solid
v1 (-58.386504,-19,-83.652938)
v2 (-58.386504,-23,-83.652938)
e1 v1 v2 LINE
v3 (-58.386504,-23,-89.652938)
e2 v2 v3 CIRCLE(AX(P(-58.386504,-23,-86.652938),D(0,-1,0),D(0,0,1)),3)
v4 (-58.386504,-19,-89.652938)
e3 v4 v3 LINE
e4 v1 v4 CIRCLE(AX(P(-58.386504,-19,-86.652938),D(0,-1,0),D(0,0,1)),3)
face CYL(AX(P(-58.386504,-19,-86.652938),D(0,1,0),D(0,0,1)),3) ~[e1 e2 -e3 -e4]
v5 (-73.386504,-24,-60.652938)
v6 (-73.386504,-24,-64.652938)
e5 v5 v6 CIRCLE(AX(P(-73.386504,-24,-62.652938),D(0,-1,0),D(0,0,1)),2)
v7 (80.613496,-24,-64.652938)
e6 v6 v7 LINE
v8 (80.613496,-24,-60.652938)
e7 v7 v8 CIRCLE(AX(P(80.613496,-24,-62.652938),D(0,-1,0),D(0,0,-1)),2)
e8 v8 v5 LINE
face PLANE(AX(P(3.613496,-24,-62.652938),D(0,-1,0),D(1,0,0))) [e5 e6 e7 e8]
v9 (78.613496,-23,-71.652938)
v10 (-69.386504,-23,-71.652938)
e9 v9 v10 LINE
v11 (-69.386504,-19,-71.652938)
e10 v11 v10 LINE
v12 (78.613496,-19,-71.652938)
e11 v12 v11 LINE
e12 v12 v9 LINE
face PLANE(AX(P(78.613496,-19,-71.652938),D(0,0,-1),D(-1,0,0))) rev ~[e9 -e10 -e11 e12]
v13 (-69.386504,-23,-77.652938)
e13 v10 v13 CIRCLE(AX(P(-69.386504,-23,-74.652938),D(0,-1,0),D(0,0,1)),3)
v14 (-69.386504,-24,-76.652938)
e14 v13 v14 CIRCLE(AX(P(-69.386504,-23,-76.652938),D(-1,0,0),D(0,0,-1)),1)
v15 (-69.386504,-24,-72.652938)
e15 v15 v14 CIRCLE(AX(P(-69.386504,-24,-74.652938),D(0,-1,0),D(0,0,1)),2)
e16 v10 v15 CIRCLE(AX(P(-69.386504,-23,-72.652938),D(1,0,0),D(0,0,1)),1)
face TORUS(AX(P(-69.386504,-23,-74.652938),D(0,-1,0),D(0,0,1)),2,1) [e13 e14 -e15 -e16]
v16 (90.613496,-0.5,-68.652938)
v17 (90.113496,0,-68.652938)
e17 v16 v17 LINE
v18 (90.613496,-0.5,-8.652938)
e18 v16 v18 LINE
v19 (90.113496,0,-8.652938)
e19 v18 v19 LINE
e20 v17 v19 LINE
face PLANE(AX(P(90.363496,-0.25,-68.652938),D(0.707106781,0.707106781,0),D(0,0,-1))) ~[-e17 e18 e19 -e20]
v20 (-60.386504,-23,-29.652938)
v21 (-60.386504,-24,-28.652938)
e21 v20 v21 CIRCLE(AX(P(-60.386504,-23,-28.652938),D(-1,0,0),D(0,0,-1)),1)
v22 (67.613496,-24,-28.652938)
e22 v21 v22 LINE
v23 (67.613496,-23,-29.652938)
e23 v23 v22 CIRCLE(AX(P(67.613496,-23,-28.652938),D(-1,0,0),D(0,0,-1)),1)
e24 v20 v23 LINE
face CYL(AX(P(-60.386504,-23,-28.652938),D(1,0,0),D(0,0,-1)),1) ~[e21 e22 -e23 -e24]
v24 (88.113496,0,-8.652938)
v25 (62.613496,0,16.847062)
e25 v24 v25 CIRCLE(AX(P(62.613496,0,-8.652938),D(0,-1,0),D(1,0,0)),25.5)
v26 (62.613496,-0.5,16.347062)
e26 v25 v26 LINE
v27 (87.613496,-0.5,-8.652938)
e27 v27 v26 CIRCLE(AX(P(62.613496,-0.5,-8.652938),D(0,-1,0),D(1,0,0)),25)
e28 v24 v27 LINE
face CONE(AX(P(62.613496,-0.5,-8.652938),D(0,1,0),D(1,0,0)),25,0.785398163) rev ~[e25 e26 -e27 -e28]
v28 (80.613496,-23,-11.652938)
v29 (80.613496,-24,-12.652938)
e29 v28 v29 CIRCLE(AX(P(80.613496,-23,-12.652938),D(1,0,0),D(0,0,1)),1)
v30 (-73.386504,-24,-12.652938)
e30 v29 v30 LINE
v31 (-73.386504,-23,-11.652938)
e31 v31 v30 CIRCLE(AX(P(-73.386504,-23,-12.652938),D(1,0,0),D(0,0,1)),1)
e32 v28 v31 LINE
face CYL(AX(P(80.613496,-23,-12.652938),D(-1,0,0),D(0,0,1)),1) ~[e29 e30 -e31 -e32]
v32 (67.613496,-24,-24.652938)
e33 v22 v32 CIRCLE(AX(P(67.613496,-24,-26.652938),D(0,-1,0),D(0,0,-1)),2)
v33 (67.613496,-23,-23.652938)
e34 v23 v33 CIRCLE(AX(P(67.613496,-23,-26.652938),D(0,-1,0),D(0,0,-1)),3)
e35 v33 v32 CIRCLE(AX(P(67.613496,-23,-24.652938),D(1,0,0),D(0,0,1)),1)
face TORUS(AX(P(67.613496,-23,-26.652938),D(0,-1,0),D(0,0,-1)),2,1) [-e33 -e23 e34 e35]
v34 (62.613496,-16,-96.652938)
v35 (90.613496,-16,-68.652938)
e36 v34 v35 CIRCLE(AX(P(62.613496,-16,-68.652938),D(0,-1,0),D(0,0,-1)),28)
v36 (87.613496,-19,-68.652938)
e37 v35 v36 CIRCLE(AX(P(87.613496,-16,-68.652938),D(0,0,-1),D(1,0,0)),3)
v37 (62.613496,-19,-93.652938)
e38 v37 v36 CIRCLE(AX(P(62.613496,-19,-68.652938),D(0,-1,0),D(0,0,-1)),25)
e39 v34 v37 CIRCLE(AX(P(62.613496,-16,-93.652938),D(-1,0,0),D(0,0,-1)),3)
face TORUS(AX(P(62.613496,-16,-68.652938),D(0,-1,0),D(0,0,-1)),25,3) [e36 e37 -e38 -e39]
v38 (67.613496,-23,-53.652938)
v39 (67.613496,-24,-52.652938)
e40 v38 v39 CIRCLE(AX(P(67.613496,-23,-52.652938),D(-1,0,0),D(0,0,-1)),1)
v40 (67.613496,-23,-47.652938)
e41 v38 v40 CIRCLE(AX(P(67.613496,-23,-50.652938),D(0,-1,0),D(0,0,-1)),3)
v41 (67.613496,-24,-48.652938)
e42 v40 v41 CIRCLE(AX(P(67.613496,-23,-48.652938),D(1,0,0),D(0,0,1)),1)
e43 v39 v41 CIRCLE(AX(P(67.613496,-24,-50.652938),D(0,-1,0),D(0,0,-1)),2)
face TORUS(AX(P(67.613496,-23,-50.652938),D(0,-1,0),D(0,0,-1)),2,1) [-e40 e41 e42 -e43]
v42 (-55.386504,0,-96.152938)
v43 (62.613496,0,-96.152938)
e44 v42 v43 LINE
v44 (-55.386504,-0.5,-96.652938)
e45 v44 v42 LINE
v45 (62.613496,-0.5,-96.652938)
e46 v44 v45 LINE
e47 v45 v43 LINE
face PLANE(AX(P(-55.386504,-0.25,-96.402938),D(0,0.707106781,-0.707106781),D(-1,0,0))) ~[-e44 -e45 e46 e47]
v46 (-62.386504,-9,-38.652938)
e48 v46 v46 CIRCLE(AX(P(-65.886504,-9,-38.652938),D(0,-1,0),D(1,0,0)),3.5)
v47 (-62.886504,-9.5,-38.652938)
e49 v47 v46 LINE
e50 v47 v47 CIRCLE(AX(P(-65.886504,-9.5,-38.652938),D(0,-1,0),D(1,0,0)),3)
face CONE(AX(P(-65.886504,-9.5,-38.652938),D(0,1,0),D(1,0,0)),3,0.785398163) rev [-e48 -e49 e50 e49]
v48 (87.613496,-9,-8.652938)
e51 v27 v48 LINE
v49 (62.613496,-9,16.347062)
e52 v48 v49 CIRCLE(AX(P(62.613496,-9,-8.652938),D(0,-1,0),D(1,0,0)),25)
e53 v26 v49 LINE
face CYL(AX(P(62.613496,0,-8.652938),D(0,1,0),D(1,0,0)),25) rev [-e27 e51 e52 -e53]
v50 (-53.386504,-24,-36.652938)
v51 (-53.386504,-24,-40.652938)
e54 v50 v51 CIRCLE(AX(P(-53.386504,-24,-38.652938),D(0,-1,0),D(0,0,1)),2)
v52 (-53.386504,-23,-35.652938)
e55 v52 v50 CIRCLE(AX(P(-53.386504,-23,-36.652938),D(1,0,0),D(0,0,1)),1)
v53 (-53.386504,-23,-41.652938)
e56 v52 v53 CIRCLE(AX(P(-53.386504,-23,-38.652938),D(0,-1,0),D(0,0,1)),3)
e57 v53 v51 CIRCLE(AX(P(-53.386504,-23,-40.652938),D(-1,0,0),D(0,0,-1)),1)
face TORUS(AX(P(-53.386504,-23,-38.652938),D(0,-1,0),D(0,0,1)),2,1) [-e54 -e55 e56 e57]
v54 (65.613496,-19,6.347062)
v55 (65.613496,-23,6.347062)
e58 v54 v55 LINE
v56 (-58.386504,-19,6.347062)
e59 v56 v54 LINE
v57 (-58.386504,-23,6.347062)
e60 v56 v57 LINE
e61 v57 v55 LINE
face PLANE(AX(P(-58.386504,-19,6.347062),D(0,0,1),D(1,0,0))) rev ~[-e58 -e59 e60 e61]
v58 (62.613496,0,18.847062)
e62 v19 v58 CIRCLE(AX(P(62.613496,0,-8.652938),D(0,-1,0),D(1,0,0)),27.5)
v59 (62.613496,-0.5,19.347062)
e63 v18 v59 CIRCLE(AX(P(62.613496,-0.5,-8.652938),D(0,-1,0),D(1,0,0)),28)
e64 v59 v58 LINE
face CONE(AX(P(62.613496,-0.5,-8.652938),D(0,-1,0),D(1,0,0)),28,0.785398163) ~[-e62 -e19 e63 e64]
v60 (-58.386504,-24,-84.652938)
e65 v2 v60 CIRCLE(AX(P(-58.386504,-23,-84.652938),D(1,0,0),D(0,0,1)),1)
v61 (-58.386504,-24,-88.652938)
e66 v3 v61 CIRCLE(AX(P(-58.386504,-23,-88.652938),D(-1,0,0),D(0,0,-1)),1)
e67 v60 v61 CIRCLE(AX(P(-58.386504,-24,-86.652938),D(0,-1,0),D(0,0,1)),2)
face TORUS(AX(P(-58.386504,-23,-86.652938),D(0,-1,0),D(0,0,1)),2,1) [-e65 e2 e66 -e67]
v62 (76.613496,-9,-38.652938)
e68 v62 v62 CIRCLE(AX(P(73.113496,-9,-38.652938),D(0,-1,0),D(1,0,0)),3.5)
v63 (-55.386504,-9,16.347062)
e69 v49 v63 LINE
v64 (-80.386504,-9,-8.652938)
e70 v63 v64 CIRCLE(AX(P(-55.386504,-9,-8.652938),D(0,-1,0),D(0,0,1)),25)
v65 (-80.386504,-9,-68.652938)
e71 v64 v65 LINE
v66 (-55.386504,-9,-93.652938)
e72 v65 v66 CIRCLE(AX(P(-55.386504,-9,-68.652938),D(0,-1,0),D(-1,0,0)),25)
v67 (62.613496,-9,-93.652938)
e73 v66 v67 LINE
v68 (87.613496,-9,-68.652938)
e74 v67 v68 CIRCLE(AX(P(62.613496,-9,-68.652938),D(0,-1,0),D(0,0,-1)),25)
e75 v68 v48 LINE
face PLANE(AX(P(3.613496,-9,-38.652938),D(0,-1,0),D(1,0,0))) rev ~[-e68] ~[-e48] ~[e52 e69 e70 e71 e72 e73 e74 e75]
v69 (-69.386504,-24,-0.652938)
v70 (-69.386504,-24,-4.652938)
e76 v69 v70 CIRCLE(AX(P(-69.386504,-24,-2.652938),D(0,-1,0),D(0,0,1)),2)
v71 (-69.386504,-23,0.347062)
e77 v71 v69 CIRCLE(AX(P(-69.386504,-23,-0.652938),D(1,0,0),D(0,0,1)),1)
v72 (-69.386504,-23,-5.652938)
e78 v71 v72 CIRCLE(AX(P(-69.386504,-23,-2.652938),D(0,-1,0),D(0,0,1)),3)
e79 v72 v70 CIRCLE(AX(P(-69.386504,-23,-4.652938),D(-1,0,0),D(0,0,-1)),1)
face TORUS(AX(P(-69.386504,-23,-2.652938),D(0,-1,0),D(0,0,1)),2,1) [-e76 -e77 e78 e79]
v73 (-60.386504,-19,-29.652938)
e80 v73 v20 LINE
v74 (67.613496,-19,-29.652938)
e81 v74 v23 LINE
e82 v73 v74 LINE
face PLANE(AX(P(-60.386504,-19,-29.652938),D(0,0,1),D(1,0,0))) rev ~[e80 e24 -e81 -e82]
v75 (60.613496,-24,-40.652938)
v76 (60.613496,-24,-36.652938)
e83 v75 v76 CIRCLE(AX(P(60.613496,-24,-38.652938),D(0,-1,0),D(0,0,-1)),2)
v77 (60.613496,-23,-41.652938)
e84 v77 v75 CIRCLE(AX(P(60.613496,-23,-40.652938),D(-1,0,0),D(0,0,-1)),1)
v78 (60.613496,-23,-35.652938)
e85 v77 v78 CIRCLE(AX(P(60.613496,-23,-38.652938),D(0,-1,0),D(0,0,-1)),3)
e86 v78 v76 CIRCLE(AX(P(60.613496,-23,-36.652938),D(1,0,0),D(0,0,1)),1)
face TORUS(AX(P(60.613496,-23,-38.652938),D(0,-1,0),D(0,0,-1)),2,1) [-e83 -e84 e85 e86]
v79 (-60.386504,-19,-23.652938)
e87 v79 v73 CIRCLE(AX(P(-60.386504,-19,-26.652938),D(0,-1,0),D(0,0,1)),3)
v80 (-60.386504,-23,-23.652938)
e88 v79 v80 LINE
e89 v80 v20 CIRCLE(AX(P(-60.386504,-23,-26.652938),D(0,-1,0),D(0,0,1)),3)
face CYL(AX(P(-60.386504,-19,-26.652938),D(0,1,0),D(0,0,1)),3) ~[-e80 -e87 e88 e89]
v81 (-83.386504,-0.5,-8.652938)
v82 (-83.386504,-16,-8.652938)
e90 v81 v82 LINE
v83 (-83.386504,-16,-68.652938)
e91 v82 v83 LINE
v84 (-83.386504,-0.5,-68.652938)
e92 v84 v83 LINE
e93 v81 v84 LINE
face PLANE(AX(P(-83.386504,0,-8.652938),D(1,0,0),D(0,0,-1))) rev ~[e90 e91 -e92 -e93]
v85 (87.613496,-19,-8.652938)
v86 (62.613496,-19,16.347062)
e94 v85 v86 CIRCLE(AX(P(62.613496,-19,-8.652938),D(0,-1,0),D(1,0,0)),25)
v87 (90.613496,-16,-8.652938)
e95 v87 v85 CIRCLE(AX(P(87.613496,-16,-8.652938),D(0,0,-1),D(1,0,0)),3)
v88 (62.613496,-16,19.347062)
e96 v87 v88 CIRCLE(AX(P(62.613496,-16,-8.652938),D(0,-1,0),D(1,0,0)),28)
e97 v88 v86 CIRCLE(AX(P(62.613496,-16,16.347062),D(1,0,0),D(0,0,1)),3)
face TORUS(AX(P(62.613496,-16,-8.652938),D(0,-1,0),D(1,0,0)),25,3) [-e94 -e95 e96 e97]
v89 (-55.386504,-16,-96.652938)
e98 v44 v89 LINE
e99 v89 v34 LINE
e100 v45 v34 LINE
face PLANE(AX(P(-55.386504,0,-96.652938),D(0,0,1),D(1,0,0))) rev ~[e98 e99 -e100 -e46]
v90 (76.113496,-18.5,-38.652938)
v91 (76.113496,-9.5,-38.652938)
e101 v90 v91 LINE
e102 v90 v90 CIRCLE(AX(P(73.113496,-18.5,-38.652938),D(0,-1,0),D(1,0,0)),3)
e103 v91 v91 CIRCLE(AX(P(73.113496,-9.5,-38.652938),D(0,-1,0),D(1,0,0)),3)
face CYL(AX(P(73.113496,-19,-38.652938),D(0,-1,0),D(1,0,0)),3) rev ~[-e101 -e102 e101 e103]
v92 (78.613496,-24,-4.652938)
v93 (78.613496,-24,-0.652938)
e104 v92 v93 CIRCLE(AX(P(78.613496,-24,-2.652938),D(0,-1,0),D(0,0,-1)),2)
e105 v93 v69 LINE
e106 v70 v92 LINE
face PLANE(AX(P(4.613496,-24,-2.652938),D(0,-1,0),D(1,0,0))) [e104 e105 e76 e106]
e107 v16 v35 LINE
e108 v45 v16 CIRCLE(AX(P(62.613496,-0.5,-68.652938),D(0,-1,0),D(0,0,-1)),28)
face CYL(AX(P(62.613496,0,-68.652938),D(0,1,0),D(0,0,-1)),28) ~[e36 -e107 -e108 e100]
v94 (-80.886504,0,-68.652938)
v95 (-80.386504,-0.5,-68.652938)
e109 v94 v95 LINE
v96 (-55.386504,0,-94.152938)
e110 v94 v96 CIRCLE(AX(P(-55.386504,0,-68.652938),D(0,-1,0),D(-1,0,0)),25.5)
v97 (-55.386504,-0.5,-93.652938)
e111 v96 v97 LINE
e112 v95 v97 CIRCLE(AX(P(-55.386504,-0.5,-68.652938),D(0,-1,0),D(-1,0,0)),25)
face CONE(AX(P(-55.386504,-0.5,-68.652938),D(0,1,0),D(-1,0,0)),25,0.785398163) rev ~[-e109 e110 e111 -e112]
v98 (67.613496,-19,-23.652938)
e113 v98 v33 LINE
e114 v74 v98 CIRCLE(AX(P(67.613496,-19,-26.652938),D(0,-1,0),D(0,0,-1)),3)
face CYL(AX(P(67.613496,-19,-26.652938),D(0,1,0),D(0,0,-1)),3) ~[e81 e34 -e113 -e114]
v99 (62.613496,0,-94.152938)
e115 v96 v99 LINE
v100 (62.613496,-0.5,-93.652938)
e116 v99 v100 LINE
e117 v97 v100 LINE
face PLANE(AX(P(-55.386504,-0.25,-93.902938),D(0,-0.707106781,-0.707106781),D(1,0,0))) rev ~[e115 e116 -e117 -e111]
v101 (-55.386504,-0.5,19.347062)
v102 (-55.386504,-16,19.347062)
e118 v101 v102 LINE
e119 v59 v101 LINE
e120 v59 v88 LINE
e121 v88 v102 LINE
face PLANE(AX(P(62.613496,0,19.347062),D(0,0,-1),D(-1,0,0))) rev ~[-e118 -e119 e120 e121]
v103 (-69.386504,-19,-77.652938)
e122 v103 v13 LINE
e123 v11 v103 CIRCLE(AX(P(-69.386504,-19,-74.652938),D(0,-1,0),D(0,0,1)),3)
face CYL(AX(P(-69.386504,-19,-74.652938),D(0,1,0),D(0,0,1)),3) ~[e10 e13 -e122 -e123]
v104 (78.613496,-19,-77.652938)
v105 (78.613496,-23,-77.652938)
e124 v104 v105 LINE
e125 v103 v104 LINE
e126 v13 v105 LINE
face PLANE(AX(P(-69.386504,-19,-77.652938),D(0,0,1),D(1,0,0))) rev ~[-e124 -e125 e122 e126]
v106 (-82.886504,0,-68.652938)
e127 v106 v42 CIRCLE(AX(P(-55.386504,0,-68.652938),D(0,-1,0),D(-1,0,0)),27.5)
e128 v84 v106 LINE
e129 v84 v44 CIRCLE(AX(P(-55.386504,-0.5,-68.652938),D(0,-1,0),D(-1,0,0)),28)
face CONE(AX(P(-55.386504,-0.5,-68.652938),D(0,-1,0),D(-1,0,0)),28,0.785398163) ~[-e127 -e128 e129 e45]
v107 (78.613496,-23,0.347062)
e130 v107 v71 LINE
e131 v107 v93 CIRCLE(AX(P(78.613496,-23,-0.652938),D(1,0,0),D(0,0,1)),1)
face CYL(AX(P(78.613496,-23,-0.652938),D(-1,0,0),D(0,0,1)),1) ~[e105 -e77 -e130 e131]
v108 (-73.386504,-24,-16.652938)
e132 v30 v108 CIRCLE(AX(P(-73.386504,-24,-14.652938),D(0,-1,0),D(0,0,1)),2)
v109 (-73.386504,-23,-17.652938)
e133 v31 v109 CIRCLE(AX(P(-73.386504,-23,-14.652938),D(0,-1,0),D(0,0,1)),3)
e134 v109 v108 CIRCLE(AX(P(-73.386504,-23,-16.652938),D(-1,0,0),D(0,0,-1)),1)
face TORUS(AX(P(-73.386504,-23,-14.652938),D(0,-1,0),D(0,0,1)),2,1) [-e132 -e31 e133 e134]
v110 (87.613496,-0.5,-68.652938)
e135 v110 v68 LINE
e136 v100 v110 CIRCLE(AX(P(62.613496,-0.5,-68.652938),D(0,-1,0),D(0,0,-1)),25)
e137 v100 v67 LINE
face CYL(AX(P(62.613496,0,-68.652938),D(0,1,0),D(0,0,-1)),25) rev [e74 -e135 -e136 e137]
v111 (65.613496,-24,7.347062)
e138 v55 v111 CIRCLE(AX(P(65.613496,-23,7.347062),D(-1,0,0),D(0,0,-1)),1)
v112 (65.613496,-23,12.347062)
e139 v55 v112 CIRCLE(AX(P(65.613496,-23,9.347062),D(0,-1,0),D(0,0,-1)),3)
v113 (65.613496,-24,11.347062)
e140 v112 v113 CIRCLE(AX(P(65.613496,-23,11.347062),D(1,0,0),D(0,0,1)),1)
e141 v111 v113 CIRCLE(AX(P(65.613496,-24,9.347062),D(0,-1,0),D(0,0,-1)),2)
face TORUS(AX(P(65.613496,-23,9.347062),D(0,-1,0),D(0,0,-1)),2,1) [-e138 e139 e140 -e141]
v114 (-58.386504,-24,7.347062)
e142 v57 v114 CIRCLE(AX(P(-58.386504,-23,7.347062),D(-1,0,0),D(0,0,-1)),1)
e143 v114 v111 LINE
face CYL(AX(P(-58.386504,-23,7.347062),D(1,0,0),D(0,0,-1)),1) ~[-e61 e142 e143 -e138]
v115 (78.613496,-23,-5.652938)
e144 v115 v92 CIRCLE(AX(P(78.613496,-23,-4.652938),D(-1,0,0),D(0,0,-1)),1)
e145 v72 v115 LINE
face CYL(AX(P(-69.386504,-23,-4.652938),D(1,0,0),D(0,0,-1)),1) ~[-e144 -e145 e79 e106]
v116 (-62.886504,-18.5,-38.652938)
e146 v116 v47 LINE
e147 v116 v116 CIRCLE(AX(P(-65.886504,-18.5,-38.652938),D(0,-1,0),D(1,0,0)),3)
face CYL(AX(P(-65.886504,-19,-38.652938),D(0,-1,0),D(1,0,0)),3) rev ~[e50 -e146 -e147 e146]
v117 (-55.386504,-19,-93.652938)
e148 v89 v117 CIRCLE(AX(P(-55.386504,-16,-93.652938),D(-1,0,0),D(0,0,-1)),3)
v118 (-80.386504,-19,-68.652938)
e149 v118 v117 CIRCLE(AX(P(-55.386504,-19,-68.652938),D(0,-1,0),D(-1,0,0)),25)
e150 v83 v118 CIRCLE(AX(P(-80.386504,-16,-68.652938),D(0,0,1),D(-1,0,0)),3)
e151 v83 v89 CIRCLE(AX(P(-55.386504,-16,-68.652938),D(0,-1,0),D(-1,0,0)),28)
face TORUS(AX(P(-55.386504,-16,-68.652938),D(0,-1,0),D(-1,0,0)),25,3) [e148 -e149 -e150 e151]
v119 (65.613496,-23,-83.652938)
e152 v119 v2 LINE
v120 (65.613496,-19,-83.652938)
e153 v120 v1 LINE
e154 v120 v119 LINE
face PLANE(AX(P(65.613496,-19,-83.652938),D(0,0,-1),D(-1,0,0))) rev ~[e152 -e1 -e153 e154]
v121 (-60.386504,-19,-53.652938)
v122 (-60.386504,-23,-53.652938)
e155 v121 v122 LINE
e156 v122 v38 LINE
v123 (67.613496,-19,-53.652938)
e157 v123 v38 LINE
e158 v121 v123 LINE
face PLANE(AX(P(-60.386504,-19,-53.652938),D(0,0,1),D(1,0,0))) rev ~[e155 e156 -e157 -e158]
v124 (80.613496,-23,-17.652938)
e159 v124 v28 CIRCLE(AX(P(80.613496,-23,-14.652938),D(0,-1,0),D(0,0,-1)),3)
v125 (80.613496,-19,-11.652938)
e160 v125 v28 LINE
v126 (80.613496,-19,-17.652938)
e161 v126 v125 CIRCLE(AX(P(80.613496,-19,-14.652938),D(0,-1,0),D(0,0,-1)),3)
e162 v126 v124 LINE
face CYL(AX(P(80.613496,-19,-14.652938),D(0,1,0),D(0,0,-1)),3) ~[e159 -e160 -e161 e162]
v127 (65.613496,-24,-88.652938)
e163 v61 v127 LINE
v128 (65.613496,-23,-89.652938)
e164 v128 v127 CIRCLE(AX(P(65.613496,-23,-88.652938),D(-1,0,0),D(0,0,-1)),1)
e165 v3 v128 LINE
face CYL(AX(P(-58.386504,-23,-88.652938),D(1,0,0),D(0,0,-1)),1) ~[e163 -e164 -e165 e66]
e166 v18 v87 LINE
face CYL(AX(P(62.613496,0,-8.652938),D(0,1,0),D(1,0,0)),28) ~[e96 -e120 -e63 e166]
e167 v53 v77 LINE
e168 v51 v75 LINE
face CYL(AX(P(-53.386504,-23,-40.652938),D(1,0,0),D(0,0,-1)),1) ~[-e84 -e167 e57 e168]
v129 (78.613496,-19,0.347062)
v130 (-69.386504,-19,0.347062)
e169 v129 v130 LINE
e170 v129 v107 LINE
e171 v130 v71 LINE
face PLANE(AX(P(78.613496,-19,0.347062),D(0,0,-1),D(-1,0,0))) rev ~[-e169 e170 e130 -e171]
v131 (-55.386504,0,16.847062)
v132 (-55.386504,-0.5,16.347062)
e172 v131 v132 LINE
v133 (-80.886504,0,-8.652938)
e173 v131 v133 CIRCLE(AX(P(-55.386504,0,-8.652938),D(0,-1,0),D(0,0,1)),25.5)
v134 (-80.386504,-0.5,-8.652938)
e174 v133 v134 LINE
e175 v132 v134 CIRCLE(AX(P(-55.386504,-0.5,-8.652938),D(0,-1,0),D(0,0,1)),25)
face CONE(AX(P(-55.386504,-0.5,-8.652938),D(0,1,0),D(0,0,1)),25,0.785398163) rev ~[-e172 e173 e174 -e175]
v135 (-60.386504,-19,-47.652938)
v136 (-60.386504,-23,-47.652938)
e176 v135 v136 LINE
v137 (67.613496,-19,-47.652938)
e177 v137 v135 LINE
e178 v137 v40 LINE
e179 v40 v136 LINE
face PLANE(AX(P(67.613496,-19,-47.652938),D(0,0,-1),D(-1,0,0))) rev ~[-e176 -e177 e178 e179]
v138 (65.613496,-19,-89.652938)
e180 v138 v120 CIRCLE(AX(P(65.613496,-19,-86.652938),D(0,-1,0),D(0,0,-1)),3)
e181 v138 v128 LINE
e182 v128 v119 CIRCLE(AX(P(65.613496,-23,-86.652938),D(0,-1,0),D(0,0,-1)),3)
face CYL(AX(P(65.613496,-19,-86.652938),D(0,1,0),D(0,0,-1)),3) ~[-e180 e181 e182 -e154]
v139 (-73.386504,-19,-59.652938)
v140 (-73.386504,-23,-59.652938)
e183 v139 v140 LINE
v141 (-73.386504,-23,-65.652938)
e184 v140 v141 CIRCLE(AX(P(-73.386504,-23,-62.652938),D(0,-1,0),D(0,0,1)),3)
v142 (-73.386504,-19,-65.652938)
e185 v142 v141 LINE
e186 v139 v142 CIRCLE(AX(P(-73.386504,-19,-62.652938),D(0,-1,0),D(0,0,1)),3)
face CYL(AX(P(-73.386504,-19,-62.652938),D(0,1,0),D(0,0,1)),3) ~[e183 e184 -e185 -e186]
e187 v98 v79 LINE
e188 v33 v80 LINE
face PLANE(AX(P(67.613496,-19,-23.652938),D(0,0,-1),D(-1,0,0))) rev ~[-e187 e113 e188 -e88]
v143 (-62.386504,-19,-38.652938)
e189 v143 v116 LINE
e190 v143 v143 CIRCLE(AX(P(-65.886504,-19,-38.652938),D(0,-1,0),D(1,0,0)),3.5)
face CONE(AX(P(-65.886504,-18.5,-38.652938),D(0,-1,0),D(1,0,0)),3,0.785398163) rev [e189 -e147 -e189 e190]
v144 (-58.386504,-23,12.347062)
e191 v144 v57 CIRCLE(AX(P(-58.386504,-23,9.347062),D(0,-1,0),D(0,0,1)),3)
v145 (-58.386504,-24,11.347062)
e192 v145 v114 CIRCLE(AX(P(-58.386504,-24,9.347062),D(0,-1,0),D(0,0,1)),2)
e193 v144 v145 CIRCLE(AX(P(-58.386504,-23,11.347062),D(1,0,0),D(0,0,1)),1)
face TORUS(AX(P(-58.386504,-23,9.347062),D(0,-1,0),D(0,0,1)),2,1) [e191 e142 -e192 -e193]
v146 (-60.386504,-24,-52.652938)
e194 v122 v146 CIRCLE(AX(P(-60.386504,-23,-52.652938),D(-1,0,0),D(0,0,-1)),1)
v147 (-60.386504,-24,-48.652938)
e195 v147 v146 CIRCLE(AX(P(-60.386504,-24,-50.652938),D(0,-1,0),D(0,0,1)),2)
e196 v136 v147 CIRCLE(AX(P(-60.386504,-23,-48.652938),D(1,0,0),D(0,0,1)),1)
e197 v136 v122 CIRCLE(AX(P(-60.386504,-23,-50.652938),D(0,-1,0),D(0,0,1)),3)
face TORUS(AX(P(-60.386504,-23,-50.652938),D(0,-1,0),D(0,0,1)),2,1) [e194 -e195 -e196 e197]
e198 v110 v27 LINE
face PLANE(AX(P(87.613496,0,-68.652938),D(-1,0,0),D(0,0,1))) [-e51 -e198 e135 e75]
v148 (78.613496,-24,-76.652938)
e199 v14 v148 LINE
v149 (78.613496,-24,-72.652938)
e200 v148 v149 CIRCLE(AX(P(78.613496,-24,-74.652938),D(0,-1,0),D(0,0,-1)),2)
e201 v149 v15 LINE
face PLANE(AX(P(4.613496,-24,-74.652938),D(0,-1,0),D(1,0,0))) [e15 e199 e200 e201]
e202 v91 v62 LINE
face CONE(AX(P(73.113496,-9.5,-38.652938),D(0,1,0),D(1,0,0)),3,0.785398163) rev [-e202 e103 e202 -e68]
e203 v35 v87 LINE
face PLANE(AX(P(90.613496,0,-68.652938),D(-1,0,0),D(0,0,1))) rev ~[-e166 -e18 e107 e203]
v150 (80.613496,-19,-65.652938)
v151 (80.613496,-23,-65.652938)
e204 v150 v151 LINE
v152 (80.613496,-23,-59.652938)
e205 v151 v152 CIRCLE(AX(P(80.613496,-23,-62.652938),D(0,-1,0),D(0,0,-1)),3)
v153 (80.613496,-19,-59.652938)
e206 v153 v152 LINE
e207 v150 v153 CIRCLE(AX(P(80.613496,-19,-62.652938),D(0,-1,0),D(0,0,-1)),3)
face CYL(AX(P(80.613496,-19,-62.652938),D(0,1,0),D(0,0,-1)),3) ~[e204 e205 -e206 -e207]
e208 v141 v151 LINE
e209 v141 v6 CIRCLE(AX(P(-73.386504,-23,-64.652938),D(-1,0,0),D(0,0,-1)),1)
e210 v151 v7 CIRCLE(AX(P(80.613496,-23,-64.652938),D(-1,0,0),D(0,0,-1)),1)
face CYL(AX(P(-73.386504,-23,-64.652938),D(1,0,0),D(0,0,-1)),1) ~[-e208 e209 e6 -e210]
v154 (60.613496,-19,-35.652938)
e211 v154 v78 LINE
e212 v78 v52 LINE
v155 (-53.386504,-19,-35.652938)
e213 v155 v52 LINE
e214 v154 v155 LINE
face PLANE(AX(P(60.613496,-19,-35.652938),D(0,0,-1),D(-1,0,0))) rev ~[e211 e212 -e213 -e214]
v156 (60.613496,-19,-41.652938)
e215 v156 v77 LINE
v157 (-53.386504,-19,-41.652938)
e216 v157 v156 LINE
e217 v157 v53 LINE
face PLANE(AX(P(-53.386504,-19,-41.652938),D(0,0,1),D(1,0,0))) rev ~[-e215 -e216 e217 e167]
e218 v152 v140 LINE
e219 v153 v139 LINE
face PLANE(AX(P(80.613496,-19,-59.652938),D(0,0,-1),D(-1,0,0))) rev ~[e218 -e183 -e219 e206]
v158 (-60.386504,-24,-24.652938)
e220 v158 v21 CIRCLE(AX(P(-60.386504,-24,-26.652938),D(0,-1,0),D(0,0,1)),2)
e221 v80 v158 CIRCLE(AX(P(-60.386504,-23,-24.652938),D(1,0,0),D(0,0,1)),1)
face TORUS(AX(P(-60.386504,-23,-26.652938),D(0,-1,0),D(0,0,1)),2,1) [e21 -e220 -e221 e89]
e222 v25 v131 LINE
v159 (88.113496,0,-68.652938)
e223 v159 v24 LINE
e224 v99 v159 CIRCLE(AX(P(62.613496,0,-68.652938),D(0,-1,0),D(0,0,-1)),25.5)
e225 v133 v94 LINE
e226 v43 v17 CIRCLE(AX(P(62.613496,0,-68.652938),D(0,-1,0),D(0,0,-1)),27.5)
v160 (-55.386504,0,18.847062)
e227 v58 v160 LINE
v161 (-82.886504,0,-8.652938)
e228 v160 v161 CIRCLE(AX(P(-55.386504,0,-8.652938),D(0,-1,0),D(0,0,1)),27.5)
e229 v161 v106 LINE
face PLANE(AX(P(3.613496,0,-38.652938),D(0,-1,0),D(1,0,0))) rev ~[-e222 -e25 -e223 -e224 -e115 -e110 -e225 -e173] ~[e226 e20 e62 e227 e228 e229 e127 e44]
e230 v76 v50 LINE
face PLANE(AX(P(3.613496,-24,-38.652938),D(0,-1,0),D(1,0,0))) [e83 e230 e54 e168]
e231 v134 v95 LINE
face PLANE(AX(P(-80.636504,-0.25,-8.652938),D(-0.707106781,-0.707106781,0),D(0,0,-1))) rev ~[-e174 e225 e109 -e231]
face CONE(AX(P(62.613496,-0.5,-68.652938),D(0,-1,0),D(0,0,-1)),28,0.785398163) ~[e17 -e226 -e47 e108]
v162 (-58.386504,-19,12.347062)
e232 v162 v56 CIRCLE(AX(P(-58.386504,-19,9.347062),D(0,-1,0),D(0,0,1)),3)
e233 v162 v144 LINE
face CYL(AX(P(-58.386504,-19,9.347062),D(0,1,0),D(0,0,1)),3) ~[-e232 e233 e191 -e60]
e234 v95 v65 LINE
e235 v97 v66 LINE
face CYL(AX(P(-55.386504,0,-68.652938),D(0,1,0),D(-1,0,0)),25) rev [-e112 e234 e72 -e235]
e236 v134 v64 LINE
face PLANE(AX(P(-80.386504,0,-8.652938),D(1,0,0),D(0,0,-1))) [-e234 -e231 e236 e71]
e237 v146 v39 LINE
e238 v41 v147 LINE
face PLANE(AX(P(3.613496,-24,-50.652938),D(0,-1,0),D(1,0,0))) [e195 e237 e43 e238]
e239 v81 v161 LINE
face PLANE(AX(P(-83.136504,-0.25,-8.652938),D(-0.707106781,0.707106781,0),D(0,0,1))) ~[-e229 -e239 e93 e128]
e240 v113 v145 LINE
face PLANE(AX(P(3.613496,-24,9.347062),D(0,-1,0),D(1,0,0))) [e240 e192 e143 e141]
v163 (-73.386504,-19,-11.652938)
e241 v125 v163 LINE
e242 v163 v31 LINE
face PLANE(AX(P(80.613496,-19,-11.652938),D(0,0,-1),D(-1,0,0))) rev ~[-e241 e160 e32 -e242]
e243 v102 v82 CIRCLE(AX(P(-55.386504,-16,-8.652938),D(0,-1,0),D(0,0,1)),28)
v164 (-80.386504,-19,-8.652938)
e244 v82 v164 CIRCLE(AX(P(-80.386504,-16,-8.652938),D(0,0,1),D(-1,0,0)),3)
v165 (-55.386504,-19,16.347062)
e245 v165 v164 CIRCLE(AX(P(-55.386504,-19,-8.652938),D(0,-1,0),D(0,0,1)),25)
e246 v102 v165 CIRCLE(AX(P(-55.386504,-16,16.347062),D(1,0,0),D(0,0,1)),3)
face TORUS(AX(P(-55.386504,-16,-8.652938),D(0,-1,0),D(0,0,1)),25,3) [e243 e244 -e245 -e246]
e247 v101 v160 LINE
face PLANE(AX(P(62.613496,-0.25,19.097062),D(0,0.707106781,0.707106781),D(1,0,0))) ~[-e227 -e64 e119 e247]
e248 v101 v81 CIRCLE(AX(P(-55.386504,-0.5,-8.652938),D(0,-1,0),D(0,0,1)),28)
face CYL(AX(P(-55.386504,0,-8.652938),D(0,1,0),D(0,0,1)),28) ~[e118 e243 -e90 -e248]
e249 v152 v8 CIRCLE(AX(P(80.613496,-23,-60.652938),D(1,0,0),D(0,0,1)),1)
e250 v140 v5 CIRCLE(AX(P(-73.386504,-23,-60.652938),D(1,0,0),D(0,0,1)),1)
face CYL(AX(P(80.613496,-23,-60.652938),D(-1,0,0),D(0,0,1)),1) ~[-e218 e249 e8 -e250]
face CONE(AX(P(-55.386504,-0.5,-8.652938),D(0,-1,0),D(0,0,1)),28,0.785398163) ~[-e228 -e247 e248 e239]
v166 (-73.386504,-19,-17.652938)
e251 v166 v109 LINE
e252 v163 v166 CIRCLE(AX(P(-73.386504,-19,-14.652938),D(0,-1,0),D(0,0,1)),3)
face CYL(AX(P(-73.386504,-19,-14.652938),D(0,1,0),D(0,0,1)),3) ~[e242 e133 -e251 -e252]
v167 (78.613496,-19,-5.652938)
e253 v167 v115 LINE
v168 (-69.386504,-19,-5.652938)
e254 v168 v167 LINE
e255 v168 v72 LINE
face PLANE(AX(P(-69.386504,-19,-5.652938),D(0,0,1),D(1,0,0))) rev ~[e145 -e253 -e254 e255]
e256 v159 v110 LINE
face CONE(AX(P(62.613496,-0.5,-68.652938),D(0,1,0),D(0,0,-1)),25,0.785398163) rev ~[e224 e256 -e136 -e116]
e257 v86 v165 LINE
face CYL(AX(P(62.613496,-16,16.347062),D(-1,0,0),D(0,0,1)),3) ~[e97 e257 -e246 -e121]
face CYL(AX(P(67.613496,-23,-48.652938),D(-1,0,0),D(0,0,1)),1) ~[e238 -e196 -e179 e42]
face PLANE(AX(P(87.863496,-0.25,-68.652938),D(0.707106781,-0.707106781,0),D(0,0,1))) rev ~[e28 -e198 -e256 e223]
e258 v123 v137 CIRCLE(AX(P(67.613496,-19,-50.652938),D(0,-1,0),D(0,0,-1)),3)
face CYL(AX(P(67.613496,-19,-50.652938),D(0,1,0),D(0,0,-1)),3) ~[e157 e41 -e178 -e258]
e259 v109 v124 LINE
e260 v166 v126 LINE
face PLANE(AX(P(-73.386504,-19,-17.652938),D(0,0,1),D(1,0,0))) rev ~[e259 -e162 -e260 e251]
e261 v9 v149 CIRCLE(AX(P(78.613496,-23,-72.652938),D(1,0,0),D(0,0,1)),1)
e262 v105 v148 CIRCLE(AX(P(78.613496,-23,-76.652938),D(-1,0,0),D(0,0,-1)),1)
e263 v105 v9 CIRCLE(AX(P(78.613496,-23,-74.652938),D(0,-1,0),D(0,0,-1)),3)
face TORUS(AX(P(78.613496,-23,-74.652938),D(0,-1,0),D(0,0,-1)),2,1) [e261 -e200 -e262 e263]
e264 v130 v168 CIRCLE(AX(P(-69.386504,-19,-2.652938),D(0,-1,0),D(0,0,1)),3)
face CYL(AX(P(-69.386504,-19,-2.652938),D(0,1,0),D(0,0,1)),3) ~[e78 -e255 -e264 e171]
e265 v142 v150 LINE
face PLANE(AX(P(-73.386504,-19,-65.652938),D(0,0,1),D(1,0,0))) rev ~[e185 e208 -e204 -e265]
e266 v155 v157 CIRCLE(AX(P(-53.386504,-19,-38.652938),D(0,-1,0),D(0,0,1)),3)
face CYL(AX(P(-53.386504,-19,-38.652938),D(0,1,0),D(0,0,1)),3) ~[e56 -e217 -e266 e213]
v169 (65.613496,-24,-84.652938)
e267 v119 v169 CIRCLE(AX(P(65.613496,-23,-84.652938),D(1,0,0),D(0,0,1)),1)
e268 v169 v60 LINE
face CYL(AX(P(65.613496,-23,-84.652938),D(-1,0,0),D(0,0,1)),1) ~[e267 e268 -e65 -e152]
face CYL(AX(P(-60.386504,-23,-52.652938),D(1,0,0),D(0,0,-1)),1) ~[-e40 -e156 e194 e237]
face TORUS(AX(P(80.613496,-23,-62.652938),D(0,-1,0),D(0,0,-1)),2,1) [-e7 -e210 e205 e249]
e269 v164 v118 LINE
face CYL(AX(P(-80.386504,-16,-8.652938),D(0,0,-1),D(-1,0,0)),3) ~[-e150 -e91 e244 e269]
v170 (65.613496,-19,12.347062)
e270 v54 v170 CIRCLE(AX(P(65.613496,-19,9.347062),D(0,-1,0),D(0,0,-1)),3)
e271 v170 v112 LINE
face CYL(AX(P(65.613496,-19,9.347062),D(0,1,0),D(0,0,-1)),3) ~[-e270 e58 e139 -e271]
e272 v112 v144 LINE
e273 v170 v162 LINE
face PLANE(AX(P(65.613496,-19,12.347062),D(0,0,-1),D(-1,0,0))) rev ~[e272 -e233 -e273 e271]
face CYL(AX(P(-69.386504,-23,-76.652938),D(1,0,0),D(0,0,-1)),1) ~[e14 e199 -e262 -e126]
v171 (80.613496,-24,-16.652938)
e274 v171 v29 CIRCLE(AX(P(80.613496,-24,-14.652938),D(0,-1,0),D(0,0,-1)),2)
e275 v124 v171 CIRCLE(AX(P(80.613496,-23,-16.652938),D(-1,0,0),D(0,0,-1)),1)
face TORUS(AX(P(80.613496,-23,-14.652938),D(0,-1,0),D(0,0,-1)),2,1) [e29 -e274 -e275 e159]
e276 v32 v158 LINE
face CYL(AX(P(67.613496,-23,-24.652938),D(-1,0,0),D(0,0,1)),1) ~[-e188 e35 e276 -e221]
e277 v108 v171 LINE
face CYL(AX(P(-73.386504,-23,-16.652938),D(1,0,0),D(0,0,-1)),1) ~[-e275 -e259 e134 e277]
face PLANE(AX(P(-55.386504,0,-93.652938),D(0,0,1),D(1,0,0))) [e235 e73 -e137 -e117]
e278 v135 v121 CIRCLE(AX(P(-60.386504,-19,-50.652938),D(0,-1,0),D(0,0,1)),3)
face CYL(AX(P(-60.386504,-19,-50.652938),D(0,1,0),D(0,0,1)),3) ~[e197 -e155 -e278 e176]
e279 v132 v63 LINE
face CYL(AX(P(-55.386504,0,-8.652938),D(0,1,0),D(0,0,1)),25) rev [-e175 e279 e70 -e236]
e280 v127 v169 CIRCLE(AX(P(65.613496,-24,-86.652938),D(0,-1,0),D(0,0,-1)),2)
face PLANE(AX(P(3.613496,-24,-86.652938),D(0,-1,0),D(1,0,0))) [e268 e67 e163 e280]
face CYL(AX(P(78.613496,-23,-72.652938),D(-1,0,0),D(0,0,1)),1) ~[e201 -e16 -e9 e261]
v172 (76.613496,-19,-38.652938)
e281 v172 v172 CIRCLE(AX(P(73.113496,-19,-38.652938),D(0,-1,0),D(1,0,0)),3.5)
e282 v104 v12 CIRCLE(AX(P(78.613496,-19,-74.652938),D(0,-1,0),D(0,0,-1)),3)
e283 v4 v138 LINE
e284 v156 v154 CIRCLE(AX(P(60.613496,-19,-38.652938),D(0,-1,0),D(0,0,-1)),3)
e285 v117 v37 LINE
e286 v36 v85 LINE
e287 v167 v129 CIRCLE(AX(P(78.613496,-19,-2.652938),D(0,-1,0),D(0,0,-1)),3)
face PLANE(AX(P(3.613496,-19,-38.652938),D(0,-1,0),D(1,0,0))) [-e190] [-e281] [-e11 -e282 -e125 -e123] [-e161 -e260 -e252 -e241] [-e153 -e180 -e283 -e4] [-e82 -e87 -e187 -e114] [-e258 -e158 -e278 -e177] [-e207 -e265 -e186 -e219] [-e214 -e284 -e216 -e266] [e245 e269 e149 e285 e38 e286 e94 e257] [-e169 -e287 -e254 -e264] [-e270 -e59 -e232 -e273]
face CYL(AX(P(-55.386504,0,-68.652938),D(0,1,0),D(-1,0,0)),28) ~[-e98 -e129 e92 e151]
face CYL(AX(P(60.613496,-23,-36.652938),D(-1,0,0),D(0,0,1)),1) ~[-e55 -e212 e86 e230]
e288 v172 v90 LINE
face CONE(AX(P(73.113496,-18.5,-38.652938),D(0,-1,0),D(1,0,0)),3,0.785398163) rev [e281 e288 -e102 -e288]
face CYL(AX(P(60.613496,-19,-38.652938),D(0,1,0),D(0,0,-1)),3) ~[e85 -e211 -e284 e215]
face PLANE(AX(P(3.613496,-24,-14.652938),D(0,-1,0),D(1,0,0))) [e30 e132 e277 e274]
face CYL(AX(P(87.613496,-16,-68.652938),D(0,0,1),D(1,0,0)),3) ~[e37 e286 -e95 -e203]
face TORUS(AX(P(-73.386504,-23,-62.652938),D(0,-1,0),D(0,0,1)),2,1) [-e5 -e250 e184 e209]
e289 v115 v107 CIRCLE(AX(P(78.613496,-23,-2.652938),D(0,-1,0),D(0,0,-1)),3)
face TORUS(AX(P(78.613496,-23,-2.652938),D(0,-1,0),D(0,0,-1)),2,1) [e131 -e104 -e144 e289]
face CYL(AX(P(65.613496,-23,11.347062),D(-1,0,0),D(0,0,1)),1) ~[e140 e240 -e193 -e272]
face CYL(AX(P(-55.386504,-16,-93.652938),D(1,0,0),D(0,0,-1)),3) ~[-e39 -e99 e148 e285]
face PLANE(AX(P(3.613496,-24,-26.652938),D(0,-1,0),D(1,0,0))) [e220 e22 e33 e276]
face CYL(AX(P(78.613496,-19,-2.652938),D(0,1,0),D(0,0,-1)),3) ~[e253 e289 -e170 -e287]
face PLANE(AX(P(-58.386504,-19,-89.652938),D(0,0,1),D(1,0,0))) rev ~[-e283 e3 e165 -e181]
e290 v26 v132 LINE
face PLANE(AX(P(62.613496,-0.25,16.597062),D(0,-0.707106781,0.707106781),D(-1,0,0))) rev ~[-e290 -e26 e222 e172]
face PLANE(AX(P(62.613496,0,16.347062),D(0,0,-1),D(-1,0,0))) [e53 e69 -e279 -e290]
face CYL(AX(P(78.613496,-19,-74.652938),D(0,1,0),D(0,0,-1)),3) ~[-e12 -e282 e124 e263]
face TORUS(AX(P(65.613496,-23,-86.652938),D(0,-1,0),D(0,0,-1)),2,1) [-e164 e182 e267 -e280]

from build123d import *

# Parameters (mm, degrees)
F1_DEPTH = 19
F2_DEPTH = 9
F3_R     = 3
F4_DEPTH = 19.001
F5_R     = 3
F6_SIZE  = 0.5
F7_SIZE  = 0.5
F8_DEPTH = 5
F9_R     = 1


with BuildPart() as f1:
    # F0 (on Front) → F1 (new body)
    with BuildSketch(Plane.XZ):
        with BuildLine():
            Line((62.6134961993, 19.3470615509), (-55.3865038007, 19.3470615509))
            ThreePointArc((-55.3865038007, 19.3470615509), (-75.185493674, 11.1460514241), (-83.3865038007, -8.6529384491))
            Line((-83.3865038007, -8.6529384491), (-83.3865038007, -68.6529384491))
            ThreePointArc((-83.3865038007, -68.6529384491), (-75.185493674, -88.4519283223), (-55.3865038007, -96.6529384491))
            Line((-55.3865038007, -96.6529384491), (62.6134961993, -96.6529384491))
            ThreePointArc((62.6134961993, -96.6529384491), (82.4124860725, -88.4519283223), (90.6134961993, -68.6529384491))
            Line((90.6134961993, -68.6529384491), (90.6134961993, -8.6529384491))
            ThreePointArc((90.6134961993, -8.6529384491), (82.4124860725, 11.1460514241), (62.6134961993, 19.3470615509))
        make_face()
        with BuildLine():
            Line((62.6134961993, -93.6529384491), (-55.3865038007, -93.6529384491))
            ThreePointArc((-55.3865038007, -93.6529384491), (-73.0641733304, -86.3306079788), (-80.3865038007, -68.6529384491))
            Line((-80.3865038007, -68.6529384491), (-80.3865038007, -8.6529384491))
            ThreePointArc((-80.3865038007, -8.6529384491), (-73.0641733304, 9.0247310806), (-55.3865038007, 16.3470615509))
            Line((-55.3865038007, 16.3470615509), (62.6134961993, 16.3470615509))
            ThreePointArc((62.6134961993, 16.3470615509), (80.2911657289, 9.0247310806), (87.6134961993, -8.6529384491))
            Line((87.6134961993, -8.6529384491), (87.6134961993, -68.6529384491))
            ThreePointArc((87.6134961993, -68.6529384491), (80.2911657289, -86.3306079788), (62.6134961993, -93.6529384491))
        make_face(mode=Mode.SUBTRACT)
        with BuildLine():
            ThreePointArc((-80.3865038007, -68.6529384491), (-73.0641733304, -86.3306079788), (-55.3865038007, -93.6529384491))
            Line((-55.3865038007, -93.6529384491), (62.6134961993, -93.6529384491))
            ThreePointArc((62.6134961993, -93.6529384491), (80.2911657289, -86.3306079788), (87.6134961993, -68.6529384491))
            Line((87.6134961993, -68.6529384491), (87.6134961993, -8.6529384491))
            ThreePointArc((87.6134961993, -8.6529384491), (80.2911657289, 9.0247310806), (62.6134961993, 16.3470615509))
            Line((62.6134961993, 16.3470615509), (-55.3865038007, 16.3470615509))
            ThreePointArc((-55.3865038007, 16.3470615509), (-73.0641733304, 9.0247310806), (-80.3865038007, -8.6529384491))
            Line((-80.3865038007, -8.6529384491), (-80.3865038007, -68.6529384491))
        make_face()
    extrude(amount=F1_DEPTH)

    # F0 (on Front) → F2 (cut)
    with BuildSketch(Plane.XZ):
        with BuildLine():
            ThreePointArc((-80.3865038007, -68.6529384491), (-73.0641733304, -86.3306079788), (-55.3865038007, -93.6529384491))
            Line((-55.3865038007, -93.6529384491), (62.6134961993, -93.6529384491))
            ThreePointArc((62.6134961993, -93.6529384491), (80.2911657289, -86.3306079788), (87.6134961993, -68.6529384491))
            Line((87.6134961993, -68.6529384491), (87.6134961993, -8.6529384491))
            ThreePointArc((87.6134961993, -8.6529384491), (80.2911657289, 9.0247310806), (62.6134961993, 16.3470615509))
            Line((62.6134961993, 16.3470615509), (-55.3865038007, 16.3470615509))
            ThreePointArc((-55.3865038007, 16.3470615509), (-73.0641733304, 9.0247310806), (-80.3865038007, -8.6529384491))
            Line((-80.3865038007, -8.6529384491), (-80.3865038007, -68.6529384491))
        make_face()
    extrude(amount=F2_DEPTH, mode=Mode.SUBTRACT)

    # F3 (on face) → F4 (cut, through all)
    with BuildSketch(Plane.XZ.offset(19)):
        with Locations((-65.8865038007, -38.6529384491)):
            Circle(F3_R)
        with Locations((73.1134961993, -38.6529384491)):
            Circle(F3_R)
    extrude(amount=-F4_DEPTH, mode=Mode.SUBTRACT)

    # F5
    f5_edges = [f1.edges().sort_by_distance(p)[0] for p in [
        (-75.185494, -19, 11.146051),
        (3.613496, -19, 19.347062),
        (82.412486, -19, 11.146051),
        (90.613496, -19, -38.652938),
        (82.412486, -19, -88.451928),
        (3.613496, -19, -96.652938),
        (-75.185494, -19, -88.451928),
        (-83.386504, -19, -38.652938),
    ]]
    fillet(f5_edges, radius=F5_R)

    # F6
    f6_edges = [f1.edges().sort_by_distance(p)[0] for p in [
        (-68.886504, -19, -38.652938),
        (70.113496, -9, -38.652938),
        (-68.886504, -9, -38.652938),
        (70.113496, -19, -38.652938),
    ]]
    chamfer(f6_edges, length=F6_SIZE)

    # F7
    f7_edges = [f1.edges().sort_by_distance(p)[0] for p in [
        (3.613496, 0, 19.347062),
        (82.412486, 0, 11.146051),
        (-75.185494, 0, 11.146051),
        (90.613496, 0, -38.652938),
        (-83.386504, 0, -38.652938),
        (82.412486, 0, -88.451928),
        (-75.185494, 0, -88.451928),
        (3.613496, 0, -96.652938),
        (-73.064173, 0, -86.330608),
        (3.613496, 0, -93.652938),
        (80.291166, 0, -86.330608),
        (87.613496, 0, -38.652938),
        (80.291166, 0, 9.024731),
        (3.613496, 0, 16.347062),
        (-73.064173, 0, 9.024731),
        (-80.386504, 0, -38.652938),
    ]]
    chamfer(f7_edges, length=F7_SIZE)

    # F3 (on face) → F8 (join)
    with BuildSketch(Plane.XZ.offset(19)):
        with BuildLine():
            ThreePointArc((-58.3865038007, 12.3470615509), (-61.3865038007, 9.3470615509), (-58.3865038007, 6.3470615509))
            Line((-58.3865038007, 6.3470615509), (65.6134961993, 6.3470615509))
            ThreePointArc((65.6134961993, 6.3470615509), (68.6134961993, 9.3470615509), (65.6134961993, 12.3470615509))
            Line((65.6134961993, 12.3470615509), (-58.3865038007, 12.3470615509))
        make_face()
        with BuildLine():
            ThreePointArc((-69.3865038007, 0.3470615509), (-72.3865038007, -2.6529384491), (-69.3865038007, -5.6529384491))
            Line((-69.3865038007, -5.6529384491), (78.6134961993, -5.6529384491))
            ThreePointArc((78.6134961993, -5.6529384491), (81.6134961993, -2.6529384491), (78.6134961993, 0.3470615509))
            Line((78.6134961993, 0.3470615509), (-69.3865038007, 0.3470615509))
        make_face()
        with BuildLine():
            ThreePointArc((-73.3865038007, -11.6529384491), (-76.3865038007, -14.6529384491), (-73.3865038007, -17.6529384491))
            Line((-73.3865038007, -17.6529384491), (80.6134961993, -17.6529384491))
            ThreePointArc((80.6134961993, -17.6529384491), (83.6134961993, -14.6529384491), (80.6134961993, -11.6529384491))
            Line((80.6134961993, -11.6529384491), (-73.3865038007, -11.6529384491))
        make_face()
        with BuildLine():
            ThreePointArc((-60.3865038007, -23.6529384491), (-63.3865038007, -26.6529384491), (-60.3865038007, -29.6529384491))
            Line((-60.3865038007, -29.6529384491), (67.6134961993, -29.6529384491))
            ThreePointArc((67.6134961993, -29.6529384491), (70.6134961993, -26.6529384491), (67.6134961993, -23.6529384491))
            Line((67.6134961993, -23.6529384491), (-60.3865038007, -23.6529384491))
        make_face()
        with BuildLine():
            ThreePointArc((-53.3865038007, -35.6529384491), (-56.3865038007, -38.6529384491), (-53.3865038007, -41.6529384491))
            Line((-53.3865038007, -41.6529384491), (60.6134961993, -41.6529384491))
            ThreePointArc((60.6134961993, -41.6529384491), (63.6134961993, -38.6529384491), (60.6134961993, -35.6529384491))
            Line((60.6134961993, -35.6529384491), (-53.3865038007, -35.6529384491))
        make_face()
        with BuildLine():
            ThreePointArc((-60.3865038007, -47.6529384491), (-63.3865038007, -50.6529384491), (-60.3865038007, -53.6529384491))
            Line((-60.3865038007, -53.6529384491), (67.6134961993, -53.6529384491))
            ThreePointArc((67.6134961993, -53.6529384491), (70.6134961993, -50.6529384491), (67.6134961993, -47.6529384491))
            Line((67.6134961993, -47.6529384491), (-60.3865038007, -47.6529384491))
        make_face()
        with BuildLine():
            ThreePointArc((-73.3865038007, -59.6529384491), (-76.3865038007, -62.6529384491), (-73.3865038007, -65.6529384491))
            Line((-73.3865038007, -65.6529384491), (80.6134961993, -65.6529384491))
            ThreePointArc((80.6134961993, -65.6529384491), (83.6134961993, -62.6529384491), (80.6134961993, -59.6529384491))
            Line((80.6134961993, -59.6529384491), (-73.3865038007, -59.6529384491))
        make_face()
        with BuildLine():
            ThreePointArc((-69.3865038007, -71.6529384491), (-72.3865038007, -74.6529384491), (-69.3865038007, -77.6529384491))
            Line((-69.3865038007, -77.6529384491), (78.6134961993, -77.6529384491))
            ThreePointArc((78.6134961993, -77.6529384491), (81.6134961993, -74.6529384491), (78.6134961993, -71.6529384491))
            Line((78.6134961993, -71.6529384491), (-69.3865038007, -71.6529384491))
        make_face()
        with BuildLine():
            ThreePointArc((-58.3865038007, -83.6529384491), (-61.3865038007, -86.6529384491), (-58.3865038007, -89.6529384491))
            Line((-58.3865038007, -89.6529384491), (65.6134961993, -89.6529384491))
            ThreePointArc((65.6134961993, -89.6529384491), (68.6134961993, -86.6529384491), (65.6134961993, -83.6529384491))
            Line((65.6134961993, -83.6529384491), (-58.3865038007, -83.6529384491))
        make_face()
    extrude(amount=F8_DEPTH)

    # F9
    f9_edges = [f1.edges().sort_by_distance(p)[0] for p in [
        (3.613496, -24, 12.347062),
        (-61.386504, -24, 9.347062),
        (3.613496, -24, 6.347062),
        (68.613496, -24, 9.347062),
        (-72.386504, -24, -2.652938),
        (4.613496, -24, -5.652938),
        (81.613496, -24, -2.652938),
        (4.613496, -24, 0.347062),
        (3.613496, -24, -11.652938),
        (-76.386504, -24, -14.652938),
        (3.613496, -24, -17.652938),
        (83.613496, -24, -14.652938),
        (-63.386504, -24, -26.652938),
        (3.613496, -24, -29.652938),
        (70.613496, -24, -26.652938),
        (3.613496, -24, -23.652938),
        (63.613496, -24, -38.652938),
        (3.613496, -24, -35.652938),
        (-56.386504, -24, -38.652938),
        (3.613496, -24, -41.652938),
        (3.613496, -24, -47.652938),
        (-63.386504, -24, -50.652938),
        (3.613496, -24, -53.652938),
        (70.613496, -24, -50.652938),
        (83.613496, -24, -62.652938),
        (3.613496, -24, -59.652938),
        (-76.386504, -24, -62.652938),
        (3.613496, -24, -65.652938),
        (81.613496, -24, -74.652938),
        (4.613496, -24, -71.652938),
        (-72.386504, -24, -74.652938),
        (4.613496, -24, -77.652938),
        (-61.386504, -24, -86.652938),
        (3.613496, -24, -89.652938),
        (68.613496, -24, -86.652938),
        (3.613496, -24, -83.652938),
    ]]
    fillet(f9_edges, radius=F9_R)


solid = f1.part
